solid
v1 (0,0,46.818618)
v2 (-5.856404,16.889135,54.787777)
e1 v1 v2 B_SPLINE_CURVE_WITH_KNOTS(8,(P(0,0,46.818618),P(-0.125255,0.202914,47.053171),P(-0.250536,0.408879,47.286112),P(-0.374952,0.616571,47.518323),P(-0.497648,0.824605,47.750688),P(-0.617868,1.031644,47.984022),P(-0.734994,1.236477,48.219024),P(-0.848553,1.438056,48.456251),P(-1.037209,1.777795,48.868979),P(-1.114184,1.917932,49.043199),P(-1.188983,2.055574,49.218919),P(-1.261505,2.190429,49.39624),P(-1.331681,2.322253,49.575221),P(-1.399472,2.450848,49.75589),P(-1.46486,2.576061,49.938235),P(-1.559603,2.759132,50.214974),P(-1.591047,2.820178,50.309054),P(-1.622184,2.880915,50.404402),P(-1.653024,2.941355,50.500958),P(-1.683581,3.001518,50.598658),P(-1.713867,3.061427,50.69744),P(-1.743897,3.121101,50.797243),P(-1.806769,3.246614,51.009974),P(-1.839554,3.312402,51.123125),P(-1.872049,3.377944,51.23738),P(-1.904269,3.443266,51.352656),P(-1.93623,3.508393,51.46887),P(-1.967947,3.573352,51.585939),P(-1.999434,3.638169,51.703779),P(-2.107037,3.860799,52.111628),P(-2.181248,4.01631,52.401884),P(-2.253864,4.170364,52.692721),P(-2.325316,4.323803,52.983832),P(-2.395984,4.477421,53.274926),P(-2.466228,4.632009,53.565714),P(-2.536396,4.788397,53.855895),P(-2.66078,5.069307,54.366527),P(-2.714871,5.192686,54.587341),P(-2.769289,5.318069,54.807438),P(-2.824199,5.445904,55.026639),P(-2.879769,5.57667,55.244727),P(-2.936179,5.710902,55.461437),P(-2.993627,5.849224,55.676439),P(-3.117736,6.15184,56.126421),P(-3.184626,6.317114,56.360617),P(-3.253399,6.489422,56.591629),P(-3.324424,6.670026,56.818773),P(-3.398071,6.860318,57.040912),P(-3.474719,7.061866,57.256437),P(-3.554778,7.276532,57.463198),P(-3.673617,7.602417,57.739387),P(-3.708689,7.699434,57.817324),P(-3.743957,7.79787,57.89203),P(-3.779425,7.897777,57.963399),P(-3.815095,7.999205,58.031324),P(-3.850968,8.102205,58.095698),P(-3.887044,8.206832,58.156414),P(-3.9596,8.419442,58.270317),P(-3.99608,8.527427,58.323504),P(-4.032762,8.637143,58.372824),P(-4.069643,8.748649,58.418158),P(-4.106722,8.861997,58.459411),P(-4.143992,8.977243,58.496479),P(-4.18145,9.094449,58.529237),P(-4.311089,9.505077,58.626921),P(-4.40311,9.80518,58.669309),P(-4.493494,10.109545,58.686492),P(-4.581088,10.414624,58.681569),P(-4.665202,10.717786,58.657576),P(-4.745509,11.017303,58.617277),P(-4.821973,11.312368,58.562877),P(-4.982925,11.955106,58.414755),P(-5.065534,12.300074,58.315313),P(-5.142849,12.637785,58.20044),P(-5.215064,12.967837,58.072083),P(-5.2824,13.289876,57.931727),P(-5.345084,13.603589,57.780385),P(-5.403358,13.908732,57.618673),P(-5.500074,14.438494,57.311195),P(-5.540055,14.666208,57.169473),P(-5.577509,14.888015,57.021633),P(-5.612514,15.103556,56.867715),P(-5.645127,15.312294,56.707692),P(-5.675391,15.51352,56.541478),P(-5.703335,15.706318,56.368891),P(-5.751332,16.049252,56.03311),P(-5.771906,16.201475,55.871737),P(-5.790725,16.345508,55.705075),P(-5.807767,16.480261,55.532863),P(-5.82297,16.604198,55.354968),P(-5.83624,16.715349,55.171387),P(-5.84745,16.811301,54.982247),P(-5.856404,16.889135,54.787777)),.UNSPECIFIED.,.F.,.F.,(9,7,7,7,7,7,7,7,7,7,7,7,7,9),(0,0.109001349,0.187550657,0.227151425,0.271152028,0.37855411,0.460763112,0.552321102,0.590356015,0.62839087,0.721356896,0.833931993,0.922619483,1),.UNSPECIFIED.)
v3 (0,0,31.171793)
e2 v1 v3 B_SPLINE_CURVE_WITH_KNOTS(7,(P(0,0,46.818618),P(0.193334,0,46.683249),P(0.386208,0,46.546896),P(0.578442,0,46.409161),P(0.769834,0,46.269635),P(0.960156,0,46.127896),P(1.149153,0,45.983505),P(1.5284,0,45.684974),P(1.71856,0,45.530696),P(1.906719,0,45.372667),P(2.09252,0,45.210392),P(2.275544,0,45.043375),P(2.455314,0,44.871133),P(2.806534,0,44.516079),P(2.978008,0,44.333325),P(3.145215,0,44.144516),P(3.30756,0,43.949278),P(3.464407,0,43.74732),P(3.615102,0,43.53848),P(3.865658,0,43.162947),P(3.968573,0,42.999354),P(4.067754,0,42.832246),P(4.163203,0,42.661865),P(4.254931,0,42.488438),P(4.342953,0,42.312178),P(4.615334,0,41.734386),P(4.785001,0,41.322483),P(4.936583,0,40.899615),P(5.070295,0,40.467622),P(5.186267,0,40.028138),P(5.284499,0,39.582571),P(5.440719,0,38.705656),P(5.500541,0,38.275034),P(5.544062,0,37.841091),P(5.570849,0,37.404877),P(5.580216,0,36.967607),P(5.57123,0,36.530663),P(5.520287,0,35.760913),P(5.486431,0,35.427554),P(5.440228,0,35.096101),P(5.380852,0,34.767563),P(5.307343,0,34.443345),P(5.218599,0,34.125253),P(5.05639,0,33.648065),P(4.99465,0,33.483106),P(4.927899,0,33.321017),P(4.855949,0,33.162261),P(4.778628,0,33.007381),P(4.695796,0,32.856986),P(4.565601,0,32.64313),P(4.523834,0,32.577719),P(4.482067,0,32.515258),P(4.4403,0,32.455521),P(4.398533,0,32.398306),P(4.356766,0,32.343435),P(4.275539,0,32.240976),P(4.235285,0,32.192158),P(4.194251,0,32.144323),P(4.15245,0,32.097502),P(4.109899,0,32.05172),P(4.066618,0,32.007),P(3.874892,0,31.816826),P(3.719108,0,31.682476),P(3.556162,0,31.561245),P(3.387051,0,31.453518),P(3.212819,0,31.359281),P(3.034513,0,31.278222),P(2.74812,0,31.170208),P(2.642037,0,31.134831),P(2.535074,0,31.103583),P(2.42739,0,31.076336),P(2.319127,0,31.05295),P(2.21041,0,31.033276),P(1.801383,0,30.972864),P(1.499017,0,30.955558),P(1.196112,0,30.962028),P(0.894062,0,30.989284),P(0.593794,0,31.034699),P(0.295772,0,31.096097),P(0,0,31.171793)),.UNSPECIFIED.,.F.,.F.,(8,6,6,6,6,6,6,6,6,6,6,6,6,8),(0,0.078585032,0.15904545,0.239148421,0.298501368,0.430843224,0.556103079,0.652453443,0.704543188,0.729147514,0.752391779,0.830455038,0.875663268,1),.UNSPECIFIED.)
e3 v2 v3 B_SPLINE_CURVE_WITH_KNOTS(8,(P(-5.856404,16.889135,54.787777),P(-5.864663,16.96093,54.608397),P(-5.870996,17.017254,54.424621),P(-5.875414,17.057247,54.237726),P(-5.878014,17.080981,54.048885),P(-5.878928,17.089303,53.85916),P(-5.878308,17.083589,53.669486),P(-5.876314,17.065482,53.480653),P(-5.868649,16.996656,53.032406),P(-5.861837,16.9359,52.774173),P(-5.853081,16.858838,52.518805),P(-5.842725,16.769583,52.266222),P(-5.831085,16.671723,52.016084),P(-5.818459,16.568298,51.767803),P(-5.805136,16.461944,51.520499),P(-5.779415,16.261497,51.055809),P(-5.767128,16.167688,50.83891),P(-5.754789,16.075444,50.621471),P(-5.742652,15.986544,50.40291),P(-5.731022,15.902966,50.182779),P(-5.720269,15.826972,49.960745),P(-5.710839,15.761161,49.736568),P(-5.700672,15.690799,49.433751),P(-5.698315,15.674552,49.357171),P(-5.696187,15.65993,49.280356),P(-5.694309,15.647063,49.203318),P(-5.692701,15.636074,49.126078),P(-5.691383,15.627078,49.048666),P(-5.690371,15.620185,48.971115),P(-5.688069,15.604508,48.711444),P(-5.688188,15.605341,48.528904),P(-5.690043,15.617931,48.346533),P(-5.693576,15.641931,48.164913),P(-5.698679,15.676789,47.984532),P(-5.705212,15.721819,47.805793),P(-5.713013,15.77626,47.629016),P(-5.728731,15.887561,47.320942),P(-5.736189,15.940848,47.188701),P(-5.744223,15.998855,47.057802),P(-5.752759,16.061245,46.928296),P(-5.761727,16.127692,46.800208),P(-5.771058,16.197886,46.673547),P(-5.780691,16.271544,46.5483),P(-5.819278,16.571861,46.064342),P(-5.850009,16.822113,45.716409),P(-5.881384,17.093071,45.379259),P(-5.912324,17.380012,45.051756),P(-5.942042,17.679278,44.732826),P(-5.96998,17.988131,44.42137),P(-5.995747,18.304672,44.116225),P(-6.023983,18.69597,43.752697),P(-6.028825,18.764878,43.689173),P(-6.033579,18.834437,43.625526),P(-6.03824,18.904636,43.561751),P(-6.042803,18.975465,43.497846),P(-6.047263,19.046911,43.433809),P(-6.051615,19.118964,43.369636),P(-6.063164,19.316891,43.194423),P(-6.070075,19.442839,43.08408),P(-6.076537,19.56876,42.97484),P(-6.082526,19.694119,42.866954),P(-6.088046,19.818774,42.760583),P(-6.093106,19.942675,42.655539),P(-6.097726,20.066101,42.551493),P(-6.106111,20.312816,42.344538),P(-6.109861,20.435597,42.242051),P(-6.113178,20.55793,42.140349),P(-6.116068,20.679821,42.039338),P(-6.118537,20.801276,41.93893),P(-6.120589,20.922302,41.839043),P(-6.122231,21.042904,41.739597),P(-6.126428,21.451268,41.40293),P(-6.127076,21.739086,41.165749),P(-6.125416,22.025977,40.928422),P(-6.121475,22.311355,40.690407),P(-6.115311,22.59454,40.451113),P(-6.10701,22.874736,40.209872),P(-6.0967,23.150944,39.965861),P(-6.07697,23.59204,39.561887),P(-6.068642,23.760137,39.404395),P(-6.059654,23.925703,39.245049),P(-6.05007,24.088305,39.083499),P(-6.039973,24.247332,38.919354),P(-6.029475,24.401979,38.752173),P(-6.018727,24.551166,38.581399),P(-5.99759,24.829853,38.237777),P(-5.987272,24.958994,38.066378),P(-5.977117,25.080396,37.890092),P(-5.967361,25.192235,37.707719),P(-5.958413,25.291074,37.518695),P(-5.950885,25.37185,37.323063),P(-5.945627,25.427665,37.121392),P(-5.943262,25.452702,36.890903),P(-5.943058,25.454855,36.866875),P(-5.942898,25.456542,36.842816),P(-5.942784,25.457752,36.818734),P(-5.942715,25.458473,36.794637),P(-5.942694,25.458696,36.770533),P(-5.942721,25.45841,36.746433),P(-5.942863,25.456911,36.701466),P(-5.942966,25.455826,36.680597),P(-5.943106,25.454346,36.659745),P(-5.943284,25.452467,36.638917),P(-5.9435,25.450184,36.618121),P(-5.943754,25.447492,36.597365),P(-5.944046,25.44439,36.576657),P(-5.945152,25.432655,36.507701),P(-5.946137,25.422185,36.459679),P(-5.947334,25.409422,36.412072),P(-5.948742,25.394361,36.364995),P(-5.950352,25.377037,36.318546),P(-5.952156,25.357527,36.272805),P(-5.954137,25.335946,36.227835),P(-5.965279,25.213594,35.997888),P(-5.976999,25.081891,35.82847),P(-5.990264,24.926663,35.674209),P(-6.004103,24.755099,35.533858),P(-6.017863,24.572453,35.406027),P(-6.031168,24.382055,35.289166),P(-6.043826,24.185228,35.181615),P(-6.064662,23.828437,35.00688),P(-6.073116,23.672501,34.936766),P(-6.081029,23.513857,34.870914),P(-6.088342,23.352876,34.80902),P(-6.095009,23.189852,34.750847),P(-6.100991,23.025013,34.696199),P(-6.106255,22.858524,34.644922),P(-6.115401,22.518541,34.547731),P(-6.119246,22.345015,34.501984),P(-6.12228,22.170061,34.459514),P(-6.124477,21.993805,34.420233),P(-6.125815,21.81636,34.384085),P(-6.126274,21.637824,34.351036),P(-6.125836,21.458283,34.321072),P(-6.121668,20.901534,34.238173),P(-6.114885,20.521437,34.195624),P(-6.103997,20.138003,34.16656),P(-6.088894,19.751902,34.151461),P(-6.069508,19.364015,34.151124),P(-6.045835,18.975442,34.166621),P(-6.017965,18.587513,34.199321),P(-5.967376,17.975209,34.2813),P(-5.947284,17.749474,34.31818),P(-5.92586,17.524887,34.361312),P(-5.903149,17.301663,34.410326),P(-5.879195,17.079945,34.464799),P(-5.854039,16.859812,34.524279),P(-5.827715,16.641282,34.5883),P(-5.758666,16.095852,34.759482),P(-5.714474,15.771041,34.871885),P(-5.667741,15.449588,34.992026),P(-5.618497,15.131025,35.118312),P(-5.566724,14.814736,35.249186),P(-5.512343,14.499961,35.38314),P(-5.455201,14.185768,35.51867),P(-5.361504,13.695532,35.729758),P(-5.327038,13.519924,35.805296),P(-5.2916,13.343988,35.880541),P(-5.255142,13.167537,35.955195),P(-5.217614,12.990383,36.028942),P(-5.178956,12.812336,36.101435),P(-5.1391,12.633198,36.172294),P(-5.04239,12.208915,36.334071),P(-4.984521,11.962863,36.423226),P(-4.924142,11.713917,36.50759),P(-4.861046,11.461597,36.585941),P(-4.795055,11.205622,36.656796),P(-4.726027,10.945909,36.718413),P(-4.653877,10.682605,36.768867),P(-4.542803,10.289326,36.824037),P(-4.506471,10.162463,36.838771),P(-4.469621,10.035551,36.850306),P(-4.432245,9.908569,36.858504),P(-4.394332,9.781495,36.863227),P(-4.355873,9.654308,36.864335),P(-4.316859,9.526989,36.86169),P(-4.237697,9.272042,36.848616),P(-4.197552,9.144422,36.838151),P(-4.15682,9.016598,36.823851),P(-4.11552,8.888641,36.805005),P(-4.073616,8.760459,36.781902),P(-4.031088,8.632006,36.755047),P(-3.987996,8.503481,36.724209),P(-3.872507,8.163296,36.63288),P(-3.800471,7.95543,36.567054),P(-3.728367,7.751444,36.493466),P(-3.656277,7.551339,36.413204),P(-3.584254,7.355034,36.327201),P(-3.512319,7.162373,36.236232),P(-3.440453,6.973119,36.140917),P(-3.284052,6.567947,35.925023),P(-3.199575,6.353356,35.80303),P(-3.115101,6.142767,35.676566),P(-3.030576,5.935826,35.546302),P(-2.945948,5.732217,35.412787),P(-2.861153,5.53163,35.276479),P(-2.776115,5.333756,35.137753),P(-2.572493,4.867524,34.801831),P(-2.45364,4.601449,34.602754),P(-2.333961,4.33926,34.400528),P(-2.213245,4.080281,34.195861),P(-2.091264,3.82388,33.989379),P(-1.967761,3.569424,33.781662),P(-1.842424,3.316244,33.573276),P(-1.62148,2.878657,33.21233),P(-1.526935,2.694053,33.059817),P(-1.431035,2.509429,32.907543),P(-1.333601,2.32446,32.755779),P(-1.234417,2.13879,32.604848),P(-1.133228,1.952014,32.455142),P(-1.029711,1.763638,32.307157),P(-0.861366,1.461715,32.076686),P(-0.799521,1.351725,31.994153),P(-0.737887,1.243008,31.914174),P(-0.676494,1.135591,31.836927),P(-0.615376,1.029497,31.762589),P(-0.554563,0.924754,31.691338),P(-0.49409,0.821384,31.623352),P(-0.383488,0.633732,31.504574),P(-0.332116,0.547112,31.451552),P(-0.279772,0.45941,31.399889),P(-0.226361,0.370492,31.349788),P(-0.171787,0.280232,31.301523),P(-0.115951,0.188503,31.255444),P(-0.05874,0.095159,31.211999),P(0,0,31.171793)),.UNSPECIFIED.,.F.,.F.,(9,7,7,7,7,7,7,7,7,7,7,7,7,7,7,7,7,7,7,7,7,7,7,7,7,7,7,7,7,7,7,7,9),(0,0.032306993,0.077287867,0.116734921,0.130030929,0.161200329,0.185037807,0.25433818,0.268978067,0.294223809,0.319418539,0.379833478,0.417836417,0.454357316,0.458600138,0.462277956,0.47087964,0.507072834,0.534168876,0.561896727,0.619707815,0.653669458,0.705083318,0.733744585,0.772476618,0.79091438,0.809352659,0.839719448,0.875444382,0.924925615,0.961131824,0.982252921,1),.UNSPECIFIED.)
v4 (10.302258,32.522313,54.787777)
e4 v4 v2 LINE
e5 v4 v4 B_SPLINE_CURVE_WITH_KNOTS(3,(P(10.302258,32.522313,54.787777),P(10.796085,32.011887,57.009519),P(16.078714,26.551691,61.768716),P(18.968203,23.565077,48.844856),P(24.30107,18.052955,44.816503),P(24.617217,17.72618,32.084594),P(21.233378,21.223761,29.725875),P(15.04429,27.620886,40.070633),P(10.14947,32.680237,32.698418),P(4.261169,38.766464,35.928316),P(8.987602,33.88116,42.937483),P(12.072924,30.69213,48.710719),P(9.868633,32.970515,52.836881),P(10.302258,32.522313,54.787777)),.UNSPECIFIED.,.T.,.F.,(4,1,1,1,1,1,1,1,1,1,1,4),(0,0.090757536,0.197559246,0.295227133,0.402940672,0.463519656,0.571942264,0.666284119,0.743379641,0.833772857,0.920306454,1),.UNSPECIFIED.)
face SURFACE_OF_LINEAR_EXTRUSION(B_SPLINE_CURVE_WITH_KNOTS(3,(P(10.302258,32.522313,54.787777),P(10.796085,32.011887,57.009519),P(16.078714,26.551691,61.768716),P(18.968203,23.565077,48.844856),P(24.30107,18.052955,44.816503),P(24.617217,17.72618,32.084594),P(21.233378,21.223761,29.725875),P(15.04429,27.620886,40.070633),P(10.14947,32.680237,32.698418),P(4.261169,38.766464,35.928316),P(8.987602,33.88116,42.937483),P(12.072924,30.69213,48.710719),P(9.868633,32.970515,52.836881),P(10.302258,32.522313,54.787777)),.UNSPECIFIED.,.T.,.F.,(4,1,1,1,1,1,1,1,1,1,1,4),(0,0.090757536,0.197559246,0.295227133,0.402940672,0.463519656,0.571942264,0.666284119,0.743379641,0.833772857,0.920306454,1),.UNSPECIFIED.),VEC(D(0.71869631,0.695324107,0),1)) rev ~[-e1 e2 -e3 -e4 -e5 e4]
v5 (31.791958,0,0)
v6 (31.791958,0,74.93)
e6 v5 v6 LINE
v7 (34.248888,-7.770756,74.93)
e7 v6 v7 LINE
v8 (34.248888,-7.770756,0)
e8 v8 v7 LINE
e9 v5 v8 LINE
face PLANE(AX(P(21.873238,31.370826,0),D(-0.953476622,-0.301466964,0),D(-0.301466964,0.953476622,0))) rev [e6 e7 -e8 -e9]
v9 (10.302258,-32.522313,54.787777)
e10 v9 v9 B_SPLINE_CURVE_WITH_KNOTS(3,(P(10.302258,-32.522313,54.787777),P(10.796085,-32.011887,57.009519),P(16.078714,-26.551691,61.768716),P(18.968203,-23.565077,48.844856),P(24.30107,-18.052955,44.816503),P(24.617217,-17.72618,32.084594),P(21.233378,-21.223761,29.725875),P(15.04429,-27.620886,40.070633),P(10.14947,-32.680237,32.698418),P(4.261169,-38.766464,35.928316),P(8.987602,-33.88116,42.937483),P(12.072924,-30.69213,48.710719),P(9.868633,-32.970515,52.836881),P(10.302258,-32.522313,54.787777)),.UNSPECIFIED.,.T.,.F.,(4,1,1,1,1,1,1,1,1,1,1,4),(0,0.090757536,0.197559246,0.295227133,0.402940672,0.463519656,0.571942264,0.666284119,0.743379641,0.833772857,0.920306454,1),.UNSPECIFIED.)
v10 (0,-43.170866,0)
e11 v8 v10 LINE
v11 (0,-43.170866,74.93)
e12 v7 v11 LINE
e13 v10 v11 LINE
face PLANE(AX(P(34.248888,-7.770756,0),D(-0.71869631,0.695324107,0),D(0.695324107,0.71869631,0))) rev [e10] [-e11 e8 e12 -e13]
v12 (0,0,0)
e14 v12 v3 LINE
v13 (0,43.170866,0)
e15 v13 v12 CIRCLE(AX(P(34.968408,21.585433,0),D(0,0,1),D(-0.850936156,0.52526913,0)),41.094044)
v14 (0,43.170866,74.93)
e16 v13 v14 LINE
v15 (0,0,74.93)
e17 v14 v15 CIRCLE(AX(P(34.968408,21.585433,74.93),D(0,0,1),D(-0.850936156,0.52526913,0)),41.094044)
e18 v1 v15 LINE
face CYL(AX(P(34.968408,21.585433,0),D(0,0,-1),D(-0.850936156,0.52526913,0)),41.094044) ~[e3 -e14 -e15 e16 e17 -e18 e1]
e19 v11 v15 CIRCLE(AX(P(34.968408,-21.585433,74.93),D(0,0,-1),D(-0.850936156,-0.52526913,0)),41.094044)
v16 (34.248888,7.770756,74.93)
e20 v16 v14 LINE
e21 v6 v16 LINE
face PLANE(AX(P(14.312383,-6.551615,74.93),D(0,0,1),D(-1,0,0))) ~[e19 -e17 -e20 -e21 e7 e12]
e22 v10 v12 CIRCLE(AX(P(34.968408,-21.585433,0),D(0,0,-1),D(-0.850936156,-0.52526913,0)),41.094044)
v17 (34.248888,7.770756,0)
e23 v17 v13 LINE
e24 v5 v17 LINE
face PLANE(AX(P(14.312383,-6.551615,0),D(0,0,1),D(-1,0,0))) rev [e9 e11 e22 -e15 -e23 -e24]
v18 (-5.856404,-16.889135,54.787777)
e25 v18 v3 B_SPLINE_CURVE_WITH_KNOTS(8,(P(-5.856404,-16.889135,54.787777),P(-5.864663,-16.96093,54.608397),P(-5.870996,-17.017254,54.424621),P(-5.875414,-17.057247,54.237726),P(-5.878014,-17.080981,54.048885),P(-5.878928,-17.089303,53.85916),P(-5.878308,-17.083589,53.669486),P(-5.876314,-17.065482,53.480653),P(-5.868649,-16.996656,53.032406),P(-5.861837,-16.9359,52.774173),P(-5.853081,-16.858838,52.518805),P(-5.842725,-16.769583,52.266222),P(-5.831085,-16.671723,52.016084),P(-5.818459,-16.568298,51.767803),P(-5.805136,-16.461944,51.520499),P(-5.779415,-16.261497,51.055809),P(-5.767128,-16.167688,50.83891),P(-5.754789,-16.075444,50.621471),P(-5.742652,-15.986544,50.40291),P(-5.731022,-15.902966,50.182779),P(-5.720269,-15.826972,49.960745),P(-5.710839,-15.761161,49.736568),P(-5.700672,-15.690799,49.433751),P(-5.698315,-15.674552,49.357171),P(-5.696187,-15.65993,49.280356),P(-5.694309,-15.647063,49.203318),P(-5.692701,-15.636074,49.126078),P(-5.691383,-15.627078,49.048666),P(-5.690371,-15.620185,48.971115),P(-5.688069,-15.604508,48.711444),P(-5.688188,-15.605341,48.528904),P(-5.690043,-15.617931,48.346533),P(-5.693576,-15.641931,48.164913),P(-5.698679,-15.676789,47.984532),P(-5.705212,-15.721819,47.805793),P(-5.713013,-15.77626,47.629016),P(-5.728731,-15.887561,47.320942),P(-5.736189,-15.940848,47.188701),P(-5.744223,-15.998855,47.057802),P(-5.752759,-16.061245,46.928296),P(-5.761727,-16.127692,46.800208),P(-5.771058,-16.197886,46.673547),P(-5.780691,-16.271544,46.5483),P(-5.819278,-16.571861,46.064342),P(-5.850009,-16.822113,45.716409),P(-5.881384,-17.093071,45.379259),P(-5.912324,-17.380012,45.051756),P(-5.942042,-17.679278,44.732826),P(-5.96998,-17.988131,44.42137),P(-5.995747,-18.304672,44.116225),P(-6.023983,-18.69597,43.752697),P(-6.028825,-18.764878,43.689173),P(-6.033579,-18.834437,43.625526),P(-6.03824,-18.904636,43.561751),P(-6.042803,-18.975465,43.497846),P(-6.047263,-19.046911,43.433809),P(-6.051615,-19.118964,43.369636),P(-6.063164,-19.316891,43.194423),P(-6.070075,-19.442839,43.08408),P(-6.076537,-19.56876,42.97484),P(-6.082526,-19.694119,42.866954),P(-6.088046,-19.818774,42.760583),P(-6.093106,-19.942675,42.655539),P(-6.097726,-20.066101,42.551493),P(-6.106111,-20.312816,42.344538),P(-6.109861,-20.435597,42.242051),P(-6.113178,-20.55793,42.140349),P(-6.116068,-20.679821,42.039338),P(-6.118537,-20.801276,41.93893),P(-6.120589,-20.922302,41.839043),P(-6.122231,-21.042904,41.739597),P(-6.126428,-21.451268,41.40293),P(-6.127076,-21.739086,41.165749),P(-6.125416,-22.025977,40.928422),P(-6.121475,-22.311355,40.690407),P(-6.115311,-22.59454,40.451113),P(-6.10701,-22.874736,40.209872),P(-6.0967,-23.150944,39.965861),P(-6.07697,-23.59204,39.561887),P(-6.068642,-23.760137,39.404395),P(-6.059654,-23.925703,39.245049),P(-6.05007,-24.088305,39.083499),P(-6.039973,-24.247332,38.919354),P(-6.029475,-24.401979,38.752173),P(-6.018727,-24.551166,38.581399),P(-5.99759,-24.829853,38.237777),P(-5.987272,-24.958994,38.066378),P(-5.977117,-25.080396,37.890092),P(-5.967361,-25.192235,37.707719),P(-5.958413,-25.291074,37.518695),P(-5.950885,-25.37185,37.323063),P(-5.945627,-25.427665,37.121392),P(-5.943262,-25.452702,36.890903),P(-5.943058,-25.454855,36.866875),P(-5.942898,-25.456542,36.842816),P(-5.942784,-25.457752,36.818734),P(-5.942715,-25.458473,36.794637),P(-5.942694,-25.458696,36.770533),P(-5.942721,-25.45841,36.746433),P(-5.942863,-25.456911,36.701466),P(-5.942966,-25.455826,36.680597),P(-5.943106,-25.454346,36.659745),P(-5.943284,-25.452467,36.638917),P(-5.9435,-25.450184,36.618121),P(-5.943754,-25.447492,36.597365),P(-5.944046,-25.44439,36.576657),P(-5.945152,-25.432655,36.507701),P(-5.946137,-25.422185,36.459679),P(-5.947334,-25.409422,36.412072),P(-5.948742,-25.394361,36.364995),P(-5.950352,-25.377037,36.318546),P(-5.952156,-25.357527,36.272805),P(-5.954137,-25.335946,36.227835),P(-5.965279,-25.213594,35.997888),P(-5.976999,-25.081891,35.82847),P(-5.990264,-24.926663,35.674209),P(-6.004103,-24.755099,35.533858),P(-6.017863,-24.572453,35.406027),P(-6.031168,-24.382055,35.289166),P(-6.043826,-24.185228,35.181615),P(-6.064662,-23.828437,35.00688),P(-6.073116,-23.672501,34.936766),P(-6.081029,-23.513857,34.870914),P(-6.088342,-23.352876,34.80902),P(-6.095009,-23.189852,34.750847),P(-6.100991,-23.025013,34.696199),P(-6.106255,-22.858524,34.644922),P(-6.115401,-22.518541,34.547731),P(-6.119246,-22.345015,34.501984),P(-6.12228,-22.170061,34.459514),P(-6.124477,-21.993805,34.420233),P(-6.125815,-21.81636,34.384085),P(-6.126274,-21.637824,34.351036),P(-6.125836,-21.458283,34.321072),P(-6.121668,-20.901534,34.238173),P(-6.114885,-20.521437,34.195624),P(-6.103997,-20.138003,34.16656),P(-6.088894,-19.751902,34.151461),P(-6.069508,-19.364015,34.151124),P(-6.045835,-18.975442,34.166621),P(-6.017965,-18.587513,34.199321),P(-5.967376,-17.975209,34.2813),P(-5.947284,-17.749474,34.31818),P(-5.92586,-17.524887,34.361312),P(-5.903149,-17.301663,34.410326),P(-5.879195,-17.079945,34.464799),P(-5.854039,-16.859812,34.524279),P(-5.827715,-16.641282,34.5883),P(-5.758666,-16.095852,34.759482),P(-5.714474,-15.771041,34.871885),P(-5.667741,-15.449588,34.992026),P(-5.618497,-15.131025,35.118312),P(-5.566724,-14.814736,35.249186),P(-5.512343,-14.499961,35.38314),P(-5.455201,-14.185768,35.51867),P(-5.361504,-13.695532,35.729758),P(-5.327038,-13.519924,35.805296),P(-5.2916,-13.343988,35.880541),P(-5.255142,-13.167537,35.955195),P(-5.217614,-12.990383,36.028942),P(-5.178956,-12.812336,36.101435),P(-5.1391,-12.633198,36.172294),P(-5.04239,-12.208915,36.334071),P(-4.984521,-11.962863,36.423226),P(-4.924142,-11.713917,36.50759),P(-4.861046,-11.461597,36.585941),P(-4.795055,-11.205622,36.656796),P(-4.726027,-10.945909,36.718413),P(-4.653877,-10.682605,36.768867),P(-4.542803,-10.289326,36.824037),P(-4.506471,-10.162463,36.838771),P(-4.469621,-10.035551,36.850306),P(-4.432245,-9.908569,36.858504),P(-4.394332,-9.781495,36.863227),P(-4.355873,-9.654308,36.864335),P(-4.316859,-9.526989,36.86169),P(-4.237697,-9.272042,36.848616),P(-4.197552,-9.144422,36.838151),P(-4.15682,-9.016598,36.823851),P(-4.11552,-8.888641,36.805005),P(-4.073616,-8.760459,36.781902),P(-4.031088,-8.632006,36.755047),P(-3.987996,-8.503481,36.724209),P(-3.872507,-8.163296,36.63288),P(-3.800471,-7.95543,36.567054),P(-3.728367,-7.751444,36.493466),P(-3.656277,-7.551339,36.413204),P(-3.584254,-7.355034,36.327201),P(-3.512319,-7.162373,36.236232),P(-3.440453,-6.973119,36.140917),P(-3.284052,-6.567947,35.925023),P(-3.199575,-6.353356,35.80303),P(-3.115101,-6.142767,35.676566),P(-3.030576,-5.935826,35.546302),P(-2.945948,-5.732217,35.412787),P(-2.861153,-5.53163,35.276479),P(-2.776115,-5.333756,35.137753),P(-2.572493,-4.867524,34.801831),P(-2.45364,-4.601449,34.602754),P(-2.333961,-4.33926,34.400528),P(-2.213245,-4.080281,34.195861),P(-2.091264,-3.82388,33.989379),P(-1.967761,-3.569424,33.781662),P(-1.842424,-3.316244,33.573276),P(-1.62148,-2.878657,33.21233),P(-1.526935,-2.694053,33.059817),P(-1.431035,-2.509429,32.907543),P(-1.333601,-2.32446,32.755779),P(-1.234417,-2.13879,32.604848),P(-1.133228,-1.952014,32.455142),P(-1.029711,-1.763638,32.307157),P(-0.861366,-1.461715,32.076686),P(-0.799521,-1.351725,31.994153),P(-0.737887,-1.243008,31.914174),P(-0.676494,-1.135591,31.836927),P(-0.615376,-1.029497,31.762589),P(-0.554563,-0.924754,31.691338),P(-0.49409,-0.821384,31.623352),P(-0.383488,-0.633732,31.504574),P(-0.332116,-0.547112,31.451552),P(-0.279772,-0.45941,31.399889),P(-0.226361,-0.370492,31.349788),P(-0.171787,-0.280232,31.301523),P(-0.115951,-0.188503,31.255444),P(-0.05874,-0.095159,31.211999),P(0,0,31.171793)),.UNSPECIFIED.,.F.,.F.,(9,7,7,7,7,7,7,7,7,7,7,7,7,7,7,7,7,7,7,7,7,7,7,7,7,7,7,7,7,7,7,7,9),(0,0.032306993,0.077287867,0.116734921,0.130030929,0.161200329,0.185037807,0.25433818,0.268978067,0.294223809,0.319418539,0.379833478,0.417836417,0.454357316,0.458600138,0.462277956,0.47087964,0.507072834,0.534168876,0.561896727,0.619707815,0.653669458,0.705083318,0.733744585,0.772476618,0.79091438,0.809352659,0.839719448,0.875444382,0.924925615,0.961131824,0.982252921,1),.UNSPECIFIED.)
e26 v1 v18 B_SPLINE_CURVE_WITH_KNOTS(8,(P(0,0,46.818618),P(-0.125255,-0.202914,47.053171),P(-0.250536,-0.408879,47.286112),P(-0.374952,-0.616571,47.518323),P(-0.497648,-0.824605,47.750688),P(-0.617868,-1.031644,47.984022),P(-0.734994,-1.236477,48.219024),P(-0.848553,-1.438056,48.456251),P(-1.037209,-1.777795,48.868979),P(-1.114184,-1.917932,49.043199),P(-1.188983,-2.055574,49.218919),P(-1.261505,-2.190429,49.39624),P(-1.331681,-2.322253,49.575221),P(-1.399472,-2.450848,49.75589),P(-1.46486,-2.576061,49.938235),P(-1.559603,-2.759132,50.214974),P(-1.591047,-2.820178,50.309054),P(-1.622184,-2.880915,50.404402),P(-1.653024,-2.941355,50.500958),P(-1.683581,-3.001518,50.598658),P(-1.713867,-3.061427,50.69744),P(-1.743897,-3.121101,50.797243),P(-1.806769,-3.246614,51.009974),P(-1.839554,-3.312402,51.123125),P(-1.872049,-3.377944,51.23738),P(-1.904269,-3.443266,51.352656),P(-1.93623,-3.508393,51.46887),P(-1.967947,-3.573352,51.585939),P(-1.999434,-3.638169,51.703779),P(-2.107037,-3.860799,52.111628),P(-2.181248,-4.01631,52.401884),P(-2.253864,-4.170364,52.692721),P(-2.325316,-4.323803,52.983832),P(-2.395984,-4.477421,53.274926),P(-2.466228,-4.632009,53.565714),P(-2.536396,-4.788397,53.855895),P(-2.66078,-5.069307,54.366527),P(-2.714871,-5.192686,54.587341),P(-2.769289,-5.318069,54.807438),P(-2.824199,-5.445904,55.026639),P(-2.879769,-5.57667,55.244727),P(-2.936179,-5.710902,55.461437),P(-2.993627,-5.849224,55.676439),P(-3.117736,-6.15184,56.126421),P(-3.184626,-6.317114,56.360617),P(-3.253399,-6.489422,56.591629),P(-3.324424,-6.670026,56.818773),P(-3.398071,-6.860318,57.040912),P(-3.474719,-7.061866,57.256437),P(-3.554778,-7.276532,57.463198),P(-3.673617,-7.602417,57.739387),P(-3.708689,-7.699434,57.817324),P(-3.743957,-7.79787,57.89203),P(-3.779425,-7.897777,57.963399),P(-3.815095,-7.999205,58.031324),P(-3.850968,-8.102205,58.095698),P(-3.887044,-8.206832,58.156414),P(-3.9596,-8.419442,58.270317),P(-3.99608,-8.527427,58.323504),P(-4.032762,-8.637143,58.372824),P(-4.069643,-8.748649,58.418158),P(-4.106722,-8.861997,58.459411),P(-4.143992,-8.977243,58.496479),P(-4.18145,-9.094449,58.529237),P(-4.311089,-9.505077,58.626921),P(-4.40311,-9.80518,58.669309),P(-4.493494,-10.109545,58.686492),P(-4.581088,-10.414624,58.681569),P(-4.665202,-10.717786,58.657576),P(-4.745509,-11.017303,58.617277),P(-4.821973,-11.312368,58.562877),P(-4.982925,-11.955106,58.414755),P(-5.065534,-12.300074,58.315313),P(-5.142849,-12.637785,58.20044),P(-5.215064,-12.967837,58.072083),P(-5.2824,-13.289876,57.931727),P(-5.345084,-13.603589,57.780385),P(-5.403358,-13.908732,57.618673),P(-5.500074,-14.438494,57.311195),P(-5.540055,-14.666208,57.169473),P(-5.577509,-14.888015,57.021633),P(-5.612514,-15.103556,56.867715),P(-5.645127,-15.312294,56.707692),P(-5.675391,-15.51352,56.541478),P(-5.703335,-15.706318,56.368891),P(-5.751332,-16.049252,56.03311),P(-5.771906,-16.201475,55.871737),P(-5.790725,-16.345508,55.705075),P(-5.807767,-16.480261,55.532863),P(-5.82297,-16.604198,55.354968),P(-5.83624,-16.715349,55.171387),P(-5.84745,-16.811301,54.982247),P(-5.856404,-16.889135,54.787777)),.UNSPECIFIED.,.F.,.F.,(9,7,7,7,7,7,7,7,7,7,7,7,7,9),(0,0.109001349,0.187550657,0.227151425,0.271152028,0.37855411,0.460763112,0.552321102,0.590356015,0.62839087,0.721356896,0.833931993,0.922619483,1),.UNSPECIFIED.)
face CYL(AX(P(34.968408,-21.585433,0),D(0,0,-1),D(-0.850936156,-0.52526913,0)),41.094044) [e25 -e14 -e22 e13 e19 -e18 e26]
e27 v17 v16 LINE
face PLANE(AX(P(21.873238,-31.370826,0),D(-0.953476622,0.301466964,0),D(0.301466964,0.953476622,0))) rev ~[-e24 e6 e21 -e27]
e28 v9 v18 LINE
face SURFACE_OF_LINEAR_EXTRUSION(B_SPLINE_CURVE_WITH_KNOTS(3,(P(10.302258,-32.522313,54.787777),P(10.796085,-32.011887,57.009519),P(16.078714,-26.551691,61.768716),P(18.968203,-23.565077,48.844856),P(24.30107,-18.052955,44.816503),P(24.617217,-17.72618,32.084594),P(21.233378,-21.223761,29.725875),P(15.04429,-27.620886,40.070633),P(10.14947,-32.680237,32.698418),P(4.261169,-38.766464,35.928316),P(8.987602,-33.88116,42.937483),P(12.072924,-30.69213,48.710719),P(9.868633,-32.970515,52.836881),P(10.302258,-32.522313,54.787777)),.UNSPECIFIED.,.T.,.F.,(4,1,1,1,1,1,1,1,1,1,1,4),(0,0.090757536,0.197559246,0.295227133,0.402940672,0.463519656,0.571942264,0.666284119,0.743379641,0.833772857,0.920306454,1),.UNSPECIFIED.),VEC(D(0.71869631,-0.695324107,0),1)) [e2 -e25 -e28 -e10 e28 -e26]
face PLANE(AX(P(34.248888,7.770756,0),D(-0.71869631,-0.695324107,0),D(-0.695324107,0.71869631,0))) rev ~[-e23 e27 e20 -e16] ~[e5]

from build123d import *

# Parameters (mm, degrees)
F1_DEPTH = 74.93
F3_DEPTH = 55.118
F4_W     = 45.3323423862
F4_H     = 85.1671397686
F5_DEPTH = 70.866


with BuildPart() as f1:
    # F0 (on Top) → F1 (new body)
    with BuildSketch(Plane.XY):
        with BuildLine():
            Line((34.2488884926, 7.7707557939), (0, 43.1708656251))
            ThreePointArc((0, 43.1708656251), (-6.1256361947, 21.5854328126), (0, 0))
            Line((0, 0), (21.8732375652, -6.9073382765))
            Line((21.8732375652, -6.9073382765), (21.8732375652, -31.3708260655))
            Line((21.8732375652, -31.3708260655), (34.2488884926, 7.7707557939))
        make_face()
    extrude(amount=F1_DEPTH)

    # F2 (on face) → F3 (cut)
    with BuildSketch(Plane(origin=(21.5736415575, 20.8720607819, 0), x_dir=(-0.6953241074, 0.7186963097, 0), z_dir=(0.7186963097, 0.6953241074, 0))):
        with BuildLine():
            add(Edge.make_bspline(
                [(16.210258007, 54.7877773643), (15.5000469768, 57.0095194883), (7.9026852056, 61.7687162824), (3.7470848857, 48.8448561376), (-3.9225276842, 44.8165025292), (-4.3772043182, 32.0845936666), (0.4893591793, 29.7258745124), (9.3903716551, 40.0706329334), (16.4299942245, 32.6984178942), (24.8984211418, 35.9283158512), (18.1009680844, 42.9374829403), (13.6637252496, 48.7107194799), (16.8338892603, 52.8368814105), (16.210258007, 54.7877773643)],
                knots=[0, 0, 0, 0, 0.0907575355, 0.1975592463, 0.2952271332, 0.4029406721, 0.463519656, 0.5719422637, 0.6662841187, 0.7433796414, 0.8337728574, 0.9203064537, 1, 1, 1, 1], degree=3))
        make_face()
    extrude(amount=-F3_DEPTH, mode=Mode.SUBTRACT)

    # F4 (on Right) → F5 (cut)
    with BuildSketch(Plane.YZ):
        with Locations((-22.6661711931, 42.5835698843)):
            Rectangle(F4_W, F4_H)
    extrude(amount=F5_DEPTH, mode=Mode.SUBTRACT)

    # F6: F1 across plane


with BuildPart() as f1_1:
    add(f1.part)
    add(f1.part.mirror(Plane.XZ))


solid = f1_1.part
